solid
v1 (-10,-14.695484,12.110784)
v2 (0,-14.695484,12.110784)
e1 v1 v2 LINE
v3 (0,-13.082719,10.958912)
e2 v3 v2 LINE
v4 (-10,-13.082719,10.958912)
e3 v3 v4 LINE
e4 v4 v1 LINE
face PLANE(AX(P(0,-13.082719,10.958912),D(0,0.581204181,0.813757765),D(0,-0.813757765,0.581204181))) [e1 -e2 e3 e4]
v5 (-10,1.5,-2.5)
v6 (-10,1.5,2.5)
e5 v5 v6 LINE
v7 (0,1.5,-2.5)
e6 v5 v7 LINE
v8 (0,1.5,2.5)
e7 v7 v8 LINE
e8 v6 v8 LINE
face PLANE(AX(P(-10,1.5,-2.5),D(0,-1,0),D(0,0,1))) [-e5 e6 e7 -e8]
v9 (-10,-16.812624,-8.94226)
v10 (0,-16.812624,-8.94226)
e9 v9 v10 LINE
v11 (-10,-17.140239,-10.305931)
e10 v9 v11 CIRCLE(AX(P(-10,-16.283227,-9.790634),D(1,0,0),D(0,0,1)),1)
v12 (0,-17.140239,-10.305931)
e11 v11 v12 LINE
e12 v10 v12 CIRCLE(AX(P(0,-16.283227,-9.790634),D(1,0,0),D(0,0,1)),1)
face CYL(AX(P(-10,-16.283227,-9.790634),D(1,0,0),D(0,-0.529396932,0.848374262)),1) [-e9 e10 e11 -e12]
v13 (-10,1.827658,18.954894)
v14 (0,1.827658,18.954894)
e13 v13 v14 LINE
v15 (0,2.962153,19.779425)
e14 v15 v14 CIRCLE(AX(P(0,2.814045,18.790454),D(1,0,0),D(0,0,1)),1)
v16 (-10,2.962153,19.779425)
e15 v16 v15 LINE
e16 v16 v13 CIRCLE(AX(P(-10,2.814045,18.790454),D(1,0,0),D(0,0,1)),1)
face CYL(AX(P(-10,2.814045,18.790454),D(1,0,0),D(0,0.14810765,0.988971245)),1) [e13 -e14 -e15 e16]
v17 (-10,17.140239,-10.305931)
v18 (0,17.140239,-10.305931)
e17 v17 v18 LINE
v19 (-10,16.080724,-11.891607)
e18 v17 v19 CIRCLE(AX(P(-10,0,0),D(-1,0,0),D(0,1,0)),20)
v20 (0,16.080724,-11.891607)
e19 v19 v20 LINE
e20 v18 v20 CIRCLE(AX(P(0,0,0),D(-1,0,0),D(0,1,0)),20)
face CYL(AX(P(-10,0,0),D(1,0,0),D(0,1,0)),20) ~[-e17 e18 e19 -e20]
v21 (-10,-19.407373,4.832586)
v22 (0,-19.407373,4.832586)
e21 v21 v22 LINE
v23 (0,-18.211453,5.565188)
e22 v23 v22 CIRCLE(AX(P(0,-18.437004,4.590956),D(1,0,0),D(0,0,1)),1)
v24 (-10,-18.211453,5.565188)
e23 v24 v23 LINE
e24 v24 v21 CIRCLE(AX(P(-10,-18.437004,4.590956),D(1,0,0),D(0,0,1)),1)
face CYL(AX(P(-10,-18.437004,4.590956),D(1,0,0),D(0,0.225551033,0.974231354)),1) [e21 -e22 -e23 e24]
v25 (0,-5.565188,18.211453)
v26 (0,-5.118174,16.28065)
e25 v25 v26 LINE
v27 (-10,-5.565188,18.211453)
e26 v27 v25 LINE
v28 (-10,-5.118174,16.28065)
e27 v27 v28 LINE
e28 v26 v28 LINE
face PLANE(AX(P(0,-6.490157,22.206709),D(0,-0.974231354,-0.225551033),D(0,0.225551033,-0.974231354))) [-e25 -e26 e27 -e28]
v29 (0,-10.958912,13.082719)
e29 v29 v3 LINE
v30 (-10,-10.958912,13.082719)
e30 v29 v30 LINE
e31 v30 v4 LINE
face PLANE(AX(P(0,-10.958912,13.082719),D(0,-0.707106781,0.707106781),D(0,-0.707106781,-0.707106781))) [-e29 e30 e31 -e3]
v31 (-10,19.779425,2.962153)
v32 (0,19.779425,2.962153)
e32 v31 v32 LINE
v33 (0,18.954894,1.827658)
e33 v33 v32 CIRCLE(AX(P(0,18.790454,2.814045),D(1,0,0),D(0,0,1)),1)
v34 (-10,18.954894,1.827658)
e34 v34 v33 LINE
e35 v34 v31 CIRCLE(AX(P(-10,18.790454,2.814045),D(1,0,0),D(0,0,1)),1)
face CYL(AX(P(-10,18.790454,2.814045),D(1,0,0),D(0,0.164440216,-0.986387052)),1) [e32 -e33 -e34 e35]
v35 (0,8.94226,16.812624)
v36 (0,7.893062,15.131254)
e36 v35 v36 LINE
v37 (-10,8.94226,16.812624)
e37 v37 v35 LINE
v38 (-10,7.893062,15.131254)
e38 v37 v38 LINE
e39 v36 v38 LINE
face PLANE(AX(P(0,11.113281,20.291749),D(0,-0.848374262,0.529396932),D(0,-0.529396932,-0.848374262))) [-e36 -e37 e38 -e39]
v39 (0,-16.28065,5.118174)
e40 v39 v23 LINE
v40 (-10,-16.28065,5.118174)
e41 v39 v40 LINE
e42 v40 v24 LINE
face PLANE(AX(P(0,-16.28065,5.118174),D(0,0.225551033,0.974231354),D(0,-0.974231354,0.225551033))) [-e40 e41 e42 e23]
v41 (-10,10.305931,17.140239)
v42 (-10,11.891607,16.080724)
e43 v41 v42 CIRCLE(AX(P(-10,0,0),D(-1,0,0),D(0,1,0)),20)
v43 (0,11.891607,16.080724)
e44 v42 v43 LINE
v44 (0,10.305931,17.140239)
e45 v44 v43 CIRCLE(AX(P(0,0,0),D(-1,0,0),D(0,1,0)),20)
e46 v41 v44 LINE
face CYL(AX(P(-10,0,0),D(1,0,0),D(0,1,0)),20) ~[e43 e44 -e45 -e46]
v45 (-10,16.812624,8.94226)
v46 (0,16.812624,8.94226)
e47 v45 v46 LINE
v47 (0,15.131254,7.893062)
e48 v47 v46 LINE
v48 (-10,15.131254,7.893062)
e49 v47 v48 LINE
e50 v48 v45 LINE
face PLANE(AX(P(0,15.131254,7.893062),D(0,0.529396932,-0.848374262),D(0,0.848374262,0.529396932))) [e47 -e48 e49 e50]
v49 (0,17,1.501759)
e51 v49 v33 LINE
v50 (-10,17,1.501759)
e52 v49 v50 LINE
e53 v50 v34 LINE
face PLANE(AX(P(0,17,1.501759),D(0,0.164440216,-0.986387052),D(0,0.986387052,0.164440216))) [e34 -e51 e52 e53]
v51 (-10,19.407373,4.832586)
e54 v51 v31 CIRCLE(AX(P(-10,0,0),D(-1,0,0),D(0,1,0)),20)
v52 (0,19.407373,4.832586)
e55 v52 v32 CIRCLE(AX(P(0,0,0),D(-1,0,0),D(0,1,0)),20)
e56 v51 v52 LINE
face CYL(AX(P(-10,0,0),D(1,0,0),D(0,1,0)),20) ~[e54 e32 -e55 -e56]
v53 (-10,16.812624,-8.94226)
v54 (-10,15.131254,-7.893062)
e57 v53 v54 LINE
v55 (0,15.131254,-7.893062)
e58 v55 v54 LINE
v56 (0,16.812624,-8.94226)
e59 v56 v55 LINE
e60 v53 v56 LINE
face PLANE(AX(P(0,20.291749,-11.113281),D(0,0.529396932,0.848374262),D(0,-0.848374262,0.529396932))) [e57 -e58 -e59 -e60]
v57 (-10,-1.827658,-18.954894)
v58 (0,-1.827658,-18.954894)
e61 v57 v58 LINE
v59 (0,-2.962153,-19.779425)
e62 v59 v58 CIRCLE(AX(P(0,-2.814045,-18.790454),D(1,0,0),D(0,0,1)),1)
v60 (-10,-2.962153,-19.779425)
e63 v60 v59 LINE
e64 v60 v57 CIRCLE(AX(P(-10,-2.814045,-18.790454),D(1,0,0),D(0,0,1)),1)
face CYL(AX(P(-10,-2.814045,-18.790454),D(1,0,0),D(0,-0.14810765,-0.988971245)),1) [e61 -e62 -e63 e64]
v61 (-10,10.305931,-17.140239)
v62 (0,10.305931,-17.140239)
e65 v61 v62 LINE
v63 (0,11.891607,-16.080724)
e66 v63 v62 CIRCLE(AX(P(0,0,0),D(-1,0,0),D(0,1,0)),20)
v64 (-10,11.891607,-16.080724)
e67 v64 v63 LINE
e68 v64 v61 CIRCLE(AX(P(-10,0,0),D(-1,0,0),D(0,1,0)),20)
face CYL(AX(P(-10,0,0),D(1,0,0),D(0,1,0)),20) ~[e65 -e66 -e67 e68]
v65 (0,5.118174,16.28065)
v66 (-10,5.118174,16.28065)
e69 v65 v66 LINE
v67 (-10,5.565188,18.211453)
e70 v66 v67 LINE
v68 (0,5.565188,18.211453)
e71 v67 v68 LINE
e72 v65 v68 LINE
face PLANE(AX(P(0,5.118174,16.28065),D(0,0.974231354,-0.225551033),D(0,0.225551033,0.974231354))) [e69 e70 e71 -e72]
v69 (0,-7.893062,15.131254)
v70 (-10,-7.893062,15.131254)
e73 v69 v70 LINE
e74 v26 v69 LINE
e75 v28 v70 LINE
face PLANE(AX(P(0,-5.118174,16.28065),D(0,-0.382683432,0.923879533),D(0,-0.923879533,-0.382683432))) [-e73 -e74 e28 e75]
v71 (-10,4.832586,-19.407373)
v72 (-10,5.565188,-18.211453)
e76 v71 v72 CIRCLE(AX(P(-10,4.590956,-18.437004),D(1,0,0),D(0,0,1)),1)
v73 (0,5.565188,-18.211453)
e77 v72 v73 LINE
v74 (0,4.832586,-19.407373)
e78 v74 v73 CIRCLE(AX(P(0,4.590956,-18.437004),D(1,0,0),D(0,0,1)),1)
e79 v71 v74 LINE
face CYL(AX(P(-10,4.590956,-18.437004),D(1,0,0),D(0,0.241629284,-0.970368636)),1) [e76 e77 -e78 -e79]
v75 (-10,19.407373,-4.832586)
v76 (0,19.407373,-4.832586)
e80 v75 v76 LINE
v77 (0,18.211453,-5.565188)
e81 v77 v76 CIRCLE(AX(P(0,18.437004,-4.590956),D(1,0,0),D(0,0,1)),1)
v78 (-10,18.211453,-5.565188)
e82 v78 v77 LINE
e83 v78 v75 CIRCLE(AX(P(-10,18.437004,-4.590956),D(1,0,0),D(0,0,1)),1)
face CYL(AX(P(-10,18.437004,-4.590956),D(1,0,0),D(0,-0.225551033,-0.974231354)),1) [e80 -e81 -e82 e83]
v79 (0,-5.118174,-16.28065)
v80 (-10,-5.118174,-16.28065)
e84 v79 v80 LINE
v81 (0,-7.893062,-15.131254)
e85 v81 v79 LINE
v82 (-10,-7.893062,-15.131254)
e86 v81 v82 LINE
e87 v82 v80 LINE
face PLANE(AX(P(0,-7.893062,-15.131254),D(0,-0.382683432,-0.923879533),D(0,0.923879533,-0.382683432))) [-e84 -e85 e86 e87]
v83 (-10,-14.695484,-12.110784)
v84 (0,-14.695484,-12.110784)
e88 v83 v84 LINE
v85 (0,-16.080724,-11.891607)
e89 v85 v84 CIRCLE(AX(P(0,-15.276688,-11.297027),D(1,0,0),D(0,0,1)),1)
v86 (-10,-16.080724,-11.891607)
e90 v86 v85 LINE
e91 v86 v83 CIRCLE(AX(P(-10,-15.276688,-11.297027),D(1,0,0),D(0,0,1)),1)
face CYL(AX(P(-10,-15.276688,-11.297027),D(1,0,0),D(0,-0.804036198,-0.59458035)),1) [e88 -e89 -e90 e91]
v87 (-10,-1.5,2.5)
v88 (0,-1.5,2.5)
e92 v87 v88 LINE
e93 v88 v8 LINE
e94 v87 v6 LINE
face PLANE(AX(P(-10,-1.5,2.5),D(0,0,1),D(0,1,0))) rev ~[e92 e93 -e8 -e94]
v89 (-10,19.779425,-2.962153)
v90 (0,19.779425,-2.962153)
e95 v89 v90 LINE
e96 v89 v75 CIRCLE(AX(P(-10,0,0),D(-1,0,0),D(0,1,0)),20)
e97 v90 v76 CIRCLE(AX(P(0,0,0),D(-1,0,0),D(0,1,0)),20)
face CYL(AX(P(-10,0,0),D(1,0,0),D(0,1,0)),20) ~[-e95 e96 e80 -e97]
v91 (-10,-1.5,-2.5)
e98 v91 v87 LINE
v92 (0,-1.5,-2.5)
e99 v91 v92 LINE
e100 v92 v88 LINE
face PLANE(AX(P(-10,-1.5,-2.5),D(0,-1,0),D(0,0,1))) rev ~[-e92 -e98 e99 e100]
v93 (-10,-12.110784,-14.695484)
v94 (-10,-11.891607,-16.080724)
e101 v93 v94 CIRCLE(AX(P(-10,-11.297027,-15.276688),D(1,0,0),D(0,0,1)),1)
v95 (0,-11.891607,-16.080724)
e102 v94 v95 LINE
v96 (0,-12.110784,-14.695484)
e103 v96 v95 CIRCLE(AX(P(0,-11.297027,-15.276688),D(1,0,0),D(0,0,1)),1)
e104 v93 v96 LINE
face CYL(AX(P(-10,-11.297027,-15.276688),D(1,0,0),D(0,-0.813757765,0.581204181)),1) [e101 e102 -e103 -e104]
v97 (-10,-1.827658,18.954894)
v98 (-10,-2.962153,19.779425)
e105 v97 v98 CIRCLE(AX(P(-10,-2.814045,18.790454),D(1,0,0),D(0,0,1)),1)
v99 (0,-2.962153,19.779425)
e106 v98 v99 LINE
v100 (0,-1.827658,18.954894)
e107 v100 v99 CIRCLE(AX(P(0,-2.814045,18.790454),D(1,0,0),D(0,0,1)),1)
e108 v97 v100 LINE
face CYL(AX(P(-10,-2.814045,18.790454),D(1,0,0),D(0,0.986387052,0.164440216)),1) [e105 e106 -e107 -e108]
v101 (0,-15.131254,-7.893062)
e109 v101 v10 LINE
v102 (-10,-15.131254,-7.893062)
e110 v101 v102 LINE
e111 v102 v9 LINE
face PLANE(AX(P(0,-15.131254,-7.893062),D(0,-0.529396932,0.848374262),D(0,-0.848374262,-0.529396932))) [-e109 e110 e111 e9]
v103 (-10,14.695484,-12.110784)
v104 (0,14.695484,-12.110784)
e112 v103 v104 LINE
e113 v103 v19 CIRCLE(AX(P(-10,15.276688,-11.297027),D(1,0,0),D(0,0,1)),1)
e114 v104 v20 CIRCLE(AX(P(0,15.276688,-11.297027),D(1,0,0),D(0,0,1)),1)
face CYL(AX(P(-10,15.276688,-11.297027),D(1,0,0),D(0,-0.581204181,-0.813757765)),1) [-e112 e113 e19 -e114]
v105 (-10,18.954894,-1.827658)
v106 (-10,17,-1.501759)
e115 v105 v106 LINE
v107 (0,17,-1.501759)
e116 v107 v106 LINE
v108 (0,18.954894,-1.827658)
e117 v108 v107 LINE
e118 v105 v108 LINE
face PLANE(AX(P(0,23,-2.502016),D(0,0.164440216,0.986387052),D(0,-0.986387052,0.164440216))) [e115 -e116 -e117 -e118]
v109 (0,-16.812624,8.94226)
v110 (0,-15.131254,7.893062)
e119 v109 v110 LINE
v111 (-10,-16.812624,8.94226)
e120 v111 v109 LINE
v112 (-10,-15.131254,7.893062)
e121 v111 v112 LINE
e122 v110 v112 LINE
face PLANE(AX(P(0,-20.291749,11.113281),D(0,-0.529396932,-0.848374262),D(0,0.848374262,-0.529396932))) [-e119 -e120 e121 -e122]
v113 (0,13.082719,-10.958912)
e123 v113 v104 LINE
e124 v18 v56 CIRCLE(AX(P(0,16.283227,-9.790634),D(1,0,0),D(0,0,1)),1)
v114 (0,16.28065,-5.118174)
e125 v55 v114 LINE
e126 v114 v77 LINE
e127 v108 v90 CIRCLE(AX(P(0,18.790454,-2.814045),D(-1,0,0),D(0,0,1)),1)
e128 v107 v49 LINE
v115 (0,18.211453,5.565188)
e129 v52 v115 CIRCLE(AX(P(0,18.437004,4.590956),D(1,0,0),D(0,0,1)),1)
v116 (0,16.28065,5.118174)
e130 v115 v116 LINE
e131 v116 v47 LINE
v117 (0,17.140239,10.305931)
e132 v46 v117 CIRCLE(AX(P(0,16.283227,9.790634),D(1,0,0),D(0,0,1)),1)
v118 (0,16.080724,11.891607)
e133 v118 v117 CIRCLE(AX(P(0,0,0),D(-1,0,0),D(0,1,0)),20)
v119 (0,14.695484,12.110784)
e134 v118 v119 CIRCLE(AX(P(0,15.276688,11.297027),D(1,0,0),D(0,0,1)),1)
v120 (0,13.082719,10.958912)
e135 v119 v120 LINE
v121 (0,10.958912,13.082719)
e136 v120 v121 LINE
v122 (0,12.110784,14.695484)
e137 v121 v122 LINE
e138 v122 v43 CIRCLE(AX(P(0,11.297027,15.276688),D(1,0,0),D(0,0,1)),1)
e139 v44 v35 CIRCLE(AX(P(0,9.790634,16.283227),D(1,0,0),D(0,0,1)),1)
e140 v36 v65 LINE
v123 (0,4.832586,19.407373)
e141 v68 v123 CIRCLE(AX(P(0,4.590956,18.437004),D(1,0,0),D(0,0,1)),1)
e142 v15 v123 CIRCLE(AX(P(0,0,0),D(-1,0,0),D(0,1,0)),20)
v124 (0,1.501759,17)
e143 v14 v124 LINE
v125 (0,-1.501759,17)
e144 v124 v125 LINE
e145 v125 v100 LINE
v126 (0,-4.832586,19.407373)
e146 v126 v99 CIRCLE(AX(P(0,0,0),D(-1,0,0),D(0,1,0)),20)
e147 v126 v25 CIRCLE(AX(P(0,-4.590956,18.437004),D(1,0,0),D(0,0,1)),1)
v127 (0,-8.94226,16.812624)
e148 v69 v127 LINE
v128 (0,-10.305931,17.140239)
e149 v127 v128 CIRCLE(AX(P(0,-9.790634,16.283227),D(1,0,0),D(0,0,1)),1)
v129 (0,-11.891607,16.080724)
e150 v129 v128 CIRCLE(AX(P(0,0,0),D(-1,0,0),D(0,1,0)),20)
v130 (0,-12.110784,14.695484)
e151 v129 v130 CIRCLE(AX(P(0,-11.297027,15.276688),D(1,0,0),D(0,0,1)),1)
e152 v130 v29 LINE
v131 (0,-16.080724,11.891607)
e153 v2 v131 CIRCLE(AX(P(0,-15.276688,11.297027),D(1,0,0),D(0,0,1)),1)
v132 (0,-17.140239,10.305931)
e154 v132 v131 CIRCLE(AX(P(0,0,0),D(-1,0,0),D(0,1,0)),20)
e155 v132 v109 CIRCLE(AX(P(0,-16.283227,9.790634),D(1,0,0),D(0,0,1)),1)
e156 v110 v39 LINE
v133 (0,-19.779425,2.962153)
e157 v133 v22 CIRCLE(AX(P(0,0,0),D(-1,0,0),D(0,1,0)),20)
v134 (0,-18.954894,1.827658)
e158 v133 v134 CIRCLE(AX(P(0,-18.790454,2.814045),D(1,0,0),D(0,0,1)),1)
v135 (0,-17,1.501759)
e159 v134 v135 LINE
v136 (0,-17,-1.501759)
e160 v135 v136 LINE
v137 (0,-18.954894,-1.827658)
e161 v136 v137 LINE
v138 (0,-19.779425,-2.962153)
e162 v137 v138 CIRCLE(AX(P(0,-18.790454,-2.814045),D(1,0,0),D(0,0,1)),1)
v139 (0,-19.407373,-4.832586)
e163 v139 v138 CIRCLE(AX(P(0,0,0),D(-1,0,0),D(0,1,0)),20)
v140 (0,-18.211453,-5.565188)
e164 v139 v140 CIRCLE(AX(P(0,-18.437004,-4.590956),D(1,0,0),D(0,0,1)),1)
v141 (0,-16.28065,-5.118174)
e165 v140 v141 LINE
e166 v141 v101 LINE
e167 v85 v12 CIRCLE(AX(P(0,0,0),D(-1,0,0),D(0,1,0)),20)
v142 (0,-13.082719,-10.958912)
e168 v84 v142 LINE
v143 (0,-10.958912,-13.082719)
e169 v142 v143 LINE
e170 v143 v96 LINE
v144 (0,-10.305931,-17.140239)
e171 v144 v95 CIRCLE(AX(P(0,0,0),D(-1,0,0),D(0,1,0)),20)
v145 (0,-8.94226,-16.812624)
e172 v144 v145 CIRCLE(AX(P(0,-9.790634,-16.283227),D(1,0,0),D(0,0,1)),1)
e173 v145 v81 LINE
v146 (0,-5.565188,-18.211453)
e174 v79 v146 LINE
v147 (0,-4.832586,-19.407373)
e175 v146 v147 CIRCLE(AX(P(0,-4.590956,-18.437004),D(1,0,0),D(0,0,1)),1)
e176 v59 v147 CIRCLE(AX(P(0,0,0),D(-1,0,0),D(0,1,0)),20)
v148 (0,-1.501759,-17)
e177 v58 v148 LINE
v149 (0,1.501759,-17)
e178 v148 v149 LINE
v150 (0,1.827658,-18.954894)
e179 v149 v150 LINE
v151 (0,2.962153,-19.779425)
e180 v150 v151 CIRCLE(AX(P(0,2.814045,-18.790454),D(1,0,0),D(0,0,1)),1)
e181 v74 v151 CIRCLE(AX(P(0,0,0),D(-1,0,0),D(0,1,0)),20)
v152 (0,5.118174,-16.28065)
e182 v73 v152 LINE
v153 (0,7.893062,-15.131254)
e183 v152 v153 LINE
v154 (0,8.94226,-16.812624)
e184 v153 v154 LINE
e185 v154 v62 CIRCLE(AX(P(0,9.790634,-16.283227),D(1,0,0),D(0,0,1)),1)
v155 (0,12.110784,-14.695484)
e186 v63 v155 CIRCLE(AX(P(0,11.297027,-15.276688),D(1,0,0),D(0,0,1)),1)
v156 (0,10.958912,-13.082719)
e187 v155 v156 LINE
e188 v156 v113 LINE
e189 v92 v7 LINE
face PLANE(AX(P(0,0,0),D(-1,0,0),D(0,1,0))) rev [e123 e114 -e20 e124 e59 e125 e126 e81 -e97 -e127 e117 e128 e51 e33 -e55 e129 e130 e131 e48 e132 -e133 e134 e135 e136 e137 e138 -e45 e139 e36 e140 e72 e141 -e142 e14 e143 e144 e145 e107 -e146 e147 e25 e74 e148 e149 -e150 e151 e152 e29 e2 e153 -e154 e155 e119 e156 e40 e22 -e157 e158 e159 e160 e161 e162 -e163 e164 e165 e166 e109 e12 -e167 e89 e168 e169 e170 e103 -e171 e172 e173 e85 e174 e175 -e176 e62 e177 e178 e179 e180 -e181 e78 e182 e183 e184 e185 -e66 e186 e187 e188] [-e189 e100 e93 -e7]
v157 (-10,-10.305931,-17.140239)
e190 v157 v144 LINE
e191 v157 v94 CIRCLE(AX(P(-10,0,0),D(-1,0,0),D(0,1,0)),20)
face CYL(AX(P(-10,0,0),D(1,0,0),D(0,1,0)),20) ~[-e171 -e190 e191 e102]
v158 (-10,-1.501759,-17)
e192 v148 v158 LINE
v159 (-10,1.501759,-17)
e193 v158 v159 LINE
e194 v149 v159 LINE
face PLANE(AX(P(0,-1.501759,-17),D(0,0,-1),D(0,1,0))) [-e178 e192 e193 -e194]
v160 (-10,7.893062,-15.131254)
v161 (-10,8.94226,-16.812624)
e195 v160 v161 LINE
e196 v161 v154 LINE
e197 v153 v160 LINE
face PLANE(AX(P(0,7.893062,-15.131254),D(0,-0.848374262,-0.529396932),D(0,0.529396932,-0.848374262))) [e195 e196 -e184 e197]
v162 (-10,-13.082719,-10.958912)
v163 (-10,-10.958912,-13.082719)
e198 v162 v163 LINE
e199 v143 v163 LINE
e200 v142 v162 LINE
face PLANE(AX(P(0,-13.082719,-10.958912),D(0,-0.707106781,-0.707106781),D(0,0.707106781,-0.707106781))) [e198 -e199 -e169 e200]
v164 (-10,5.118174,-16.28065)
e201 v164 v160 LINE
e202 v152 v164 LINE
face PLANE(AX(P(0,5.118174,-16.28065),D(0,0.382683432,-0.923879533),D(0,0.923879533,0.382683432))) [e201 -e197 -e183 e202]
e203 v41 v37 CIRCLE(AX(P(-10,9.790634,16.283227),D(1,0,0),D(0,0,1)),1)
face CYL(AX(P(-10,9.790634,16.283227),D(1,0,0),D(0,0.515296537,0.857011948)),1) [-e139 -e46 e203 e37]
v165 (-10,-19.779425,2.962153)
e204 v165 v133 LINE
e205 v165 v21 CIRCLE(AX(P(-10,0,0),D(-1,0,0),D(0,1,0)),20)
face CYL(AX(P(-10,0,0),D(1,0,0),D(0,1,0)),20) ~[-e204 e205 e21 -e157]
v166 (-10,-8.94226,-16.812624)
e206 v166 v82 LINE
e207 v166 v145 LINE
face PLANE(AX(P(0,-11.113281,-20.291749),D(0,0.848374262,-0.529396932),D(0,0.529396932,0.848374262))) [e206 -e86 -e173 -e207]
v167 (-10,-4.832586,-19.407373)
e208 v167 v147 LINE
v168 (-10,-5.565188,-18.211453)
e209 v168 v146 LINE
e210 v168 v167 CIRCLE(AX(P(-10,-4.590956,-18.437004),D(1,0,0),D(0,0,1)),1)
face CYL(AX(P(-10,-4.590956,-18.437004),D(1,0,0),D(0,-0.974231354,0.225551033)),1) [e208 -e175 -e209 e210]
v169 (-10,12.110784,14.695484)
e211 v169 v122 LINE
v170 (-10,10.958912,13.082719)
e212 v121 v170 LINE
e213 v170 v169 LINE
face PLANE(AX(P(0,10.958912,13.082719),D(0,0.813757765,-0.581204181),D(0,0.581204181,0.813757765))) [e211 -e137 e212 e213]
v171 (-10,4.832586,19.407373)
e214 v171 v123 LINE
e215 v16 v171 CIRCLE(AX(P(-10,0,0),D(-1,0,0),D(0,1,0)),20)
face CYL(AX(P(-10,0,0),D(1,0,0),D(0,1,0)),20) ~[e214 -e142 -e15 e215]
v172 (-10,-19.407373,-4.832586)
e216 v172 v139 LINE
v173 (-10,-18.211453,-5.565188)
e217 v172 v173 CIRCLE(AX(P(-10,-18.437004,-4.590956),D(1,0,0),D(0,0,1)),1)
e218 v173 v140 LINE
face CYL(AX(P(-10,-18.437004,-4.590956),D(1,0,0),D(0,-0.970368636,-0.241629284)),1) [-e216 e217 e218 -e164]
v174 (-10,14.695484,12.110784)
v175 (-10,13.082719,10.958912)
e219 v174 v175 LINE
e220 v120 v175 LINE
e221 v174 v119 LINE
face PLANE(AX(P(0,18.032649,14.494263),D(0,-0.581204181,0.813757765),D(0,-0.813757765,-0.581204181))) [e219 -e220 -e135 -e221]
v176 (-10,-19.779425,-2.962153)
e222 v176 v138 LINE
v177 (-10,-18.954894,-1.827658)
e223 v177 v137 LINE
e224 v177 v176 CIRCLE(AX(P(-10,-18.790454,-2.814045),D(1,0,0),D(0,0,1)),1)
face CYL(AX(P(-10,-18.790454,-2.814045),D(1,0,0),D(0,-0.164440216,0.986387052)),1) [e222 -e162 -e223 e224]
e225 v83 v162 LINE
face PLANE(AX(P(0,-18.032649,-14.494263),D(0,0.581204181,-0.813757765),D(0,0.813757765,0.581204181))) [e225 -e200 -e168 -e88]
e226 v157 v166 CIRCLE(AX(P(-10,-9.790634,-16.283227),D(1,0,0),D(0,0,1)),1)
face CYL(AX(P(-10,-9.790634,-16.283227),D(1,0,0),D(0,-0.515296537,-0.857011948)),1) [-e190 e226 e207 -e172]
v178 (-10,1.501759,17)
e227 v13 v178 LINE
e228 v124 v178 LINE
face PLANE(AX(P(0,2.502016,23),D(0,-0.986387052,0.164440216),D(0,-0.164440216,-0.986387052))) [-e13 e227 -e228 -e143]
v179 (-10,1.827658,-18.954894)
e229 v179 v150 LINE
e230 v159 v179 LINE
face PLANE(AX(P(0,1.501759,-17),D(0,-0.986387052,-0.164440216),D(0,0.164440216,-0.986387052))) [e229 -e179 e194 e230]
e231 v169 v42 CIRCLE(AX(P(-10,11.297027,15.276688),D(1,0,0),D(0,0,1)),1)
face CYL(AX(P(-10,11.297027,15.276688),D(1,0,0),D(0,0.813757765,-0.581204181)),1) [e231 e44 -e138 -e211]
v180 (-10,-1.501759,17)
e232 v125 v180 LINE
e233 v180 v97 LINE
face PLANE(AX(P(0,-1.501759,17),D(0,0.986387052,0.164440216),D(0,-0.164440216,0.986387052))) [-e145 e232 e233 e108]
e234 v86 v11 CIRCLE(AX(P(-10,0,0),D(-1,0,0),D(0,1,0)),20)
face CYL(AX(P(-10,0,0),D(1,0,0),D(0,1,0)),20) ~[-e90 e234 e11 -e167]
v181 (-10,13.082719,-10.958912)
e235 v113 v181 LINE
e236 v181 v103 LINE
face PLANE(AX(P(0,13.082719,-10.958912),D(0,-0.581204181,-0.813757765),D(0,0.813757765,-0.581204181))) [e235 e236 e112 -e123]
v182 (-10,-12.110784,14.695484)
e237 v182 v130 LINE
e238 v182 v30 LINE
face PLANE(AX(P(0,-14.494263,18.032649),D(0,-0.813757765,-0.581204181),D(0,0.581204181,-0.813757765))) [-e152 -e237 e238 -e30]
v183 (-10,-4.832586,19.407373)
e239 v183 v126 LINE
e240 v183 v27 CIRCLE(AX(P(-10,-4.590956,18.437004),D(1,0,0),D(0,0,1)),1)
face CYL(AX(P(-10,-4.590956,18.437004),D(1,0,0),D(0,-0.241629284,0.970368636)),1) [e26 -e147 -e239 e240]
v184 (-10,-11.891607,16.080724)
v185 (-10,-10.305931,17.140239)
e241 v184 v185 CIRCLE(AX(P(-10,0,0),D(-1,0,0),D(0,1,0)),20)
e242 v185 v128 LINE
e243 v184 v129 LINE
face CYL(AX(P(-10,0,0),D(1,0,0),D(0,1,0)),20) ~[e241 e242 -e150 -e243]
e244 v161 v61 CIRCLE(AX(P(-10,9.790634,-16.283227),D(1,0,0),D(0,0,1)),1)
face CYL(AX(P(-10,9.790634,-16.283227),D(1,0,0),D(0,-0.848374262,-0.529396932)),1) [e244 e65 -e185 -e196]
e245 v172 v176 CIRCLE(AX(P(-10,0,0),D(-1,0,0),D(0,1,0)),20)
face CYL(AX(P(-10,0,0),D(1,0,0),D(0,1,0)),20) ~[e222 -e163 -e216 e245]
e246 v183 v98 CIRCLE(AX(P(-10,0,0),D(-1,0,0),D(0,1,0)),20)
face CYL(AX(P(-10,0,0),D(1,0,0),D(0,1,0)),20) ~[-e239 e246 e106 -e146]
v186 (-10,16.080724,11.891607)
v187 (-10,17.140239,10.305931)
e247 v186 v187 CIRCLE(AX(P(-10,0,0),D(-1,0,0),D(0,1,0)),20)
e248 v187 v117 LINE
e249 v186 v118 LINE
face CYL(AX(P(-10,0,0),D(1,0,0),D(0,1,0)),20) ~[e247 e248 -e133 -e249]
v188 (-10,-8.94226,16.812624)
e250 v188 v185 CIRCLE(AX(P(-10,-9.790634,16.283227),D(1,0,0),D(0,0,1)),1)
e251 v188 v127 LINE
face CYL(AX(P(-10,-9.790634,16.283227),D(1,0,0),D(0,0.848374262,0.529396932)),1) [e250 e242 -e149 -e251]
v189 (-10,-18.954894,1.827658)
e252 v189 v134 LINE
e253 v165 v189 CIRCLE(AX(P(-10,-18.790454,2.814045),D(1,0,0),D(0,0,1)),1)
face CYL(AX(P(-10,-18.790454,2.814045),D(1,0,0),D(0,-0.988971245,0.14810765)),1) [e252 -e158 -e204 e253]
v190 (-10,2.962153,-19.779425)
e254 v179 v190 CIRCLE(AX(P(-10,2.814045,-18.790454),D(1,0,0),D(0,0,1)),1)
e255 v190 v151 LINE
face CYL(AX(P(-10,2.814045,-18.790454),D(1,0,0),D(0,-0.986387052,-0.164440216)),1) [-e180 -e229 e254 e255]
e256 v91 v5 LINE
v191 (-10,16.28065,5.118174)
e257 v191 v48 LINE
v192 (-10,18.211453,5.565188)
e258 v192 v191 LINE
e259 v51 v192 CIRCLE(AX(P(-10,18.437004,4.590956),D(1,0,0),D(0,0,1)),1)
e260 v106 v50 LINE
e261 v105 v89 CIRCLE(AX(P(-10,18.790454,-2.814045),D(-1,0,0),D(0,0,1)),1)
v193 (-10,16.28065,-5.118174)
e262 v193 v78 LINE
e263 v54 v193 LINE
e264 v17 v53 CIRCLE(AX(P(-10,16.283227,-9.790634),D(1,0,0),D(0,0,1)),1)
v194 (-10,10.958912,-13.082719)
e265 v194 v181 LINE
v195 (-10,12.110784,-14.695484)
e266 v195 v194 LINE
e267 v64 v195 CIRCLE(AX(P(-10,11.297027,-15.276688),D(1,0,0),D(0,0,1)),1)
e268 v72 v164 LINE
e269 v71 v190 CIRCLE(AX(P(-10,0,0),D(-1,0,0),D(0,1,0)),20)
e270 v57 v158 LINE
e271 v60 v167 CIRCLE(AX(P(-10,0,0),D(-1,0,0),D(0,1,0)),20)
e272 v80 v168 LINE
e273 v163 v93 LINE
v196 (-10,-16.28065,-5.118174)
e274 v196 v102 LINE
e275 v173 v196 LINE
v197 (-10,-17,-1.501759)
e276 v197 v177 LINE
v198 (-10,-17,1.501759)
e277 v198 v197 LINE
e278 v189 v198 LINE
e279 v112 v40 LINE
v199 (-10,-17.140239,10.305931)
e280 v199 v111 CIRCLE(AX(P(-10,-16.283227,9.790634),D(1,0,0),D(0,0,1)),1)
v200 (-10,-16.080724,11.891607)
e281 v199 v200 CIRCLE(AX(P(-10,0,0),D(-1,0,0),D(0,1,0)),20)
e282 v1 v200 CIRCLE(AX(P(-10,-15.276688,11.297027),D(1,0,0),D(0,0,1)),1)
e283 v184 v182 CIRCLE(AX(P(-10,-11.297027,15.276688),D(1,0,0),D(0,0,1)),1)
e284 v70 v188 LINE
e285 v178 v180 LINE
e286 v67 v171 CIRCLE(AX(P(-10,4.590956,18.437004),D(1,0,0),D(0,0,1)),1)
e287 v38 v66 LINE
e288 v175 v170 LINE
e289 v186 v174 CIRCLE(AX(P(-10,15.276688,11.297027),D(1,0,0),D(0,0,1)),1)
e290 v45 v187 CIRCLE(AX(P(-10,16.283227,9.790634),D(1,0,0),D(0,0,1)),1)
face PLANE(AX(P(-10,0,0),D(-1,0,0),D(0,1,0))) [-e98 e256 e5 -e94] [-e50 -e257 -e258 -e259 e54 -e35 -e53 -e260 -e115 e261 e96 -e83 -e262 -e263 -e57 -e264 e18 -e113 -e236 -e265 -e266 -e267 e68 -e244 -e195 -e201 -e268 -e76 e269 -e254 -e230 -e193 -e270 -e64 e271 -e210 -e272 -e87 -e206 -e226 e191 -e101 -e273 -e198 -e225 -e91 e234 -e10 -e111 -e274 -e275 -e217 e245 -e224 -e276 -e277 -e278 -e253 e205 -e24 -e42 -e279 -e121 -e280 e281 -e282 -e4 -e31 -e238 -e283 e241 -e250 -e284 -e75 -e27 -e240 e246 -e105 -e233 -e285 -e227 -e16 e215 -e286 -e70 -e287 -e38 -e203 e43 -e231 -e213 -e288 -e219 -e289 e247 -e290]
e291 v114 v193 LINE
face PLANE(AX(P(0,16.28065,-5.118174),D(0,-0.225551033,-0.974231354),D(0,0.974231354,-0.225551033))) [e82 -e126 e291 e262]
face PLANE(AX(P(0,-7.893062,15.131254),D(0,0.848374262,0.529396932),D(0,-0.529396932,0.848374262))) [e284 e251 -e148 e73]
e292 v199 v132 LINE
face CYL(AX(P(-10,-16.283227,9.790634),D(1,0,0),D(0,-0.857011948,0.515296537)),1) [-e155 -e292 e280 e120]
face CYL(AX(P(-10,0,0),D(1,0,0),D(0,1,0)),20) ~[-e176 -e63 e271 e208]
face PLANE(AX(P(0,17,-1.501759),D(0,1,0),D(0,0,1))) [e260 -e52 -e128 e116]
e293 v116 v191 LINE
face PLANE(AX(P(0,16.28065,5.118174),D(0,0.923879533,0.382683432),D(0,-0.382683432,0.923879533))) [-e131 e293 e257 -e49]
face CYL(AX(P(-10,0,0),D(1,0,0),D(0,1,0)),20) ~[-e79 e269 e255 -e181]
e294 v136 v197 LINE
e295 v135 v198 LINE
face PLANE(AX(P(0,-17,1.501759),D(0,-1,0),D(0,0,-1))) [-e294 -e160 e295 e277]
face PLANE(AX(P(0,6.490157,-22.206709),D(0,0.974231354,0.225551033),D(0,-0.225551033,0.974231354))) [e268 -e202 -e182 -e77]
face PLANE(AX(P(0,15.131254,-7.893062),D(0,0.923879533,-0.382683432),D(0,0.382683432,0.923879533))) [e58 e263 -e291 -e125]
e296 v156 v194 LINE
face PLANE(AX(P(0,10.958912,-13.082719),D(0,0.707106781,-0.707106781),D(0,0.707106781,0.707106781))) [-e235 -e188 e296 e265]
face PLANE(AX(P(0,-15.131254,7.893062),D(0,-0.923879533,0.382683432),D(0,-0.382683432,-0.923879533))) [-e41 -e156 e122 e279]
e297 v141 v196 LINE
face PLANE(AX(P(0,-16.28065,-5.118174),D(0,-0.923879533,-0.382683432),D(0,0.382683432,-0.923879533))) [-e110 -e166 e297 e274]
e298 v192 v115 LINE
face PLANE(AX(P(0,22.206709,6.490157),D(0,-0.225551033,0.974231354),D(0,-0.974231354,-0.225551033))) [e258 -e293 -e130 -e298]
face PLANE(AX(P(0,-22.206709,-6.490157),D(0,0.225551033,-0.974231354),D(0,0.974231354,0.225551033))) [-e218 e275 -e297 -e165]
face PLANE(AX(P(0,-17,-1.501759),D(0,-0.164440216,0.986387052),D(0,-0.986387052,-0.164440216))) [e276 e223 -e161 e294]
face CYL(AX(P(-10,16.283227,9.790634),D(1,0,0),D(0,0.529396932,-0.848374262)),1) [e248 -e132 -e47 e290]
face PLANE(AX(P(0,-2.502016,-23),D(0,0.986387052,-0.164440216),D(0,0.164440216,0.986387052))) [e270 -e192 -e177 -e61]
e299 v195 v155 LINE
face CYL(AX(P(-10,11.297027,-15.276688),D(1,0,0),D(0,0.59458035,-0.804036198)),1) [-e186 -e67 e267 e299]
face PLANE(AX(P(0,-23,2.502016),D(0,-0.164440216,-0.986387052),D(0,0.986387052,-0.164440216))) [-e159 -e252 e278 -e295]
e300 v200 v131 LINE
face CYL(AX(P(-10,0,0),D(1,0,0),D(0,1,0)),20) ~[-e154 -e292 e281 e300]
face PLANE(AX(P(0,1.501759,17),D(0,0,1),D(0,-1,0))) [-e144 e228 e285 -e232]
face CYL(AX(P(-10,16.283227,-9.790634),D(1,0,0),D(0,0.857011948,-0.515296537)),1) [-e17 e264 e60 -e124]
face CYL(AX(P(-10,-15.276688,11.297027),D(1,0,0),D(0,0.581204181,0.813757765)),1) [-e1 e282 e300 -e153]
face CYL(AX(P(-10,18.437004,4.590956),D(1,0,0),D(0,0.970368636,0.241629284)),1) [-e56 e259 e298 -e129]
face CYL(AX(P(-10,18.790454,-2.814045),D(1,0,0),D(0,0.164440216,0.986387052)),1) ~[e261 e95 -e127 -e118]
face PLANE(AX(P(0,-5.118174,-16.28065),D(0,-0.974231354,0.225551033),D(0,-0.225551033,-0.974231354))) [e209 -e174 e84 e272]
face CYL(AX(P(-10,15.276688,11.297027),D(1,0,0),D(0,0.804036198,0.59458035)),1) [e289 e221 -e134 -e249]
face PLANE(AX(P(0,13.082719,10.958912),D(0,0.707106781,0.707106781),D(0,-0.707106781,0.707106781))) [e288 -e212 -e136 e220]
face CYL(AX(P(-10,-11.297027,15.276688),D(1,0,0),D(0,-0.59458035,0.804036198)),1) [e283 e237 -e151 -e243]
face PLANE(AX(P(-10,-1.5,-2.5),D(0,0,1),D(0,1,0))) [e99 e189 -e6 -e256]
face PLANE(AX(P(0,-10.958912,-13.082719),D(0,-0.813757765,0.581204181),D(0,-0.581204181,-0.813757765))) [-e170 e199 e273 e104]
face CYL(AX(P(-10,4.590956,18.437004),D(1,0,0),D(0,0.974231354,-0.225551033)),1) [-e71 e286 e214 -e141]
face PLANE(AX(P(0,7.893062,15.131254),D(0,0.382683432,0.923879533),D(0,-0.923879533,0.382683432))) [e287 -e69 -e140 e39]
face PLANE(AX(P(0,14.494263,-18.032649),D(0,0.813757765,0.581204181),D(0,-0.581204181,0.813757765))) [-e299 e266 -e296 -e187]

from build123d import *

# Parameters (mm, degrees)
SKETCH4_W                = 5
SKETCH4_H                = 3
CUT_EXTRUDE2_DEPTH       = 10
CUT_EXTRUDE3_DEPTH       = 10
FILLET1_R                = 1
CIRPATTERN1_COUNT        = 16
FILLET1_OF_CIRPATTERN1_R = 1


with BuildPart() as part:
    # Sketch1 → Revolve1 (revolve)
    with BuildSketch(Plane.XY):
        Polygon((0, 0), (-10, 0), (-10, 5), (-10, 10), (-10, 20), (0, 20), (0, 5), align=None)
    revolve(axis=Axis((0, 0, 0), (-1, 0, 0)))

    # Sketch4 → Cut-Extrude2 (cut)
    with BuildSketch(Plane.ZY.offset(10)):
        Rectangle(SKETCH4_W, SKETCH4_H)
    extrude(amount=-CUT_EXTRUDE2_DEPTH, mode=Mode.SUBTRACT)

    # Sketch5 → Cut-Extrude3 (cut)
    with BuildSketch(Plane(origin=(0, 0, 0), x_dir=(0, 0, -1), z_dir=(1, 0, 0))):
        Polygon((-2.502016427, 23), (2.502016427, 23), (1.501758676, 17), (-1.501758676, 17), align=None)
    cut_extrude3 = extrude(amount=-CUT_EXTRUDE3_DEPTH, mode=Mode.SUBTRACT)

    # Fillet1
    fillet1_edges = [part.edges().sort_by_distance(p)[0] for p in [
        (-5, 19.90120888, -1.985418121),
        (-5, 19.90120888, 1.985418121),
    ]]
    fillet(fillet1_edges, radius=FILLET1_R)

    # CirPattern1: Cut-Extrude3 ×16 about axis
    cirpattern1_axis = Axis((0, 0, 0), (1, 0, 0))
    for i in range(1, CIRPATTERN1_COUNT):
        add(cut_extrude3.rotate(cirpattern1_axis, i * 360 / CIRPATTERN1_COUNT), mode=Mode.SUBTRACT)

    # Fillet1 of CirPattern1
    fillet1_of_cirpattern1_edges = [part.edges().sort_by_distance(p)[0] for p in [
        (-5, 19.146106178, 5.781575757),
        (-5, 17.626532935, 9.450150088),
        (-5, 15.47618237, 12.668377136),
        (-5, 12.668377136, 15.47618237),
        (-5, 9.450150088, 17.626532935),
        (-5, 5.781575757, 19.146106178),
        (-5, 1.985418121, 19.90120888),
        (-5, -1.985418121, 19.90120888),
        (-5, -5.781575757, 19.146106178),
        (-5, -9.450150088, 17.626532935),
        (-5, -12.668377136, 15.47618237),
        (-5, -15.47618237, 12.668377136),
        (-5, -17.626532935, 9.450150088),
        (-5, -19.146106178, 5.781575757),
        (-5, -19.90120888, 1.985418121),
        (-5, -19.90120888, -1.985418121),
        (-5, -19.146106178, -5.781575757),
        (-5, -17.626532935, -9.450150088),
        (-5, -15.47618237, -12.668377136),
        (-5, -12.668377136, -15.47618237),
        (-5, -9.450150088, -17.626532935),
        (-5, -5.781575757, -19.146106178),
        (-5, -1.985418121, -19.90120888),
        (-5, 1.985418121, -19.90120888),
        (-5, 5.781575757, -19.146106178),
        (-5, 9.450150088, -17.626532935),
        (-5, 12.668377136, -15.47618237),
        (-5, 15.47618237, -12.668377136),
        (-5, 17.626532935, -9.450150088),
        (-5, 19.146106178, -5.781575757),
    ]]
    fillet(fillet1_of_cirpattern1_edges, radius=FILLET1_OF_CIRPATTERN1_R)


solid = part.part
